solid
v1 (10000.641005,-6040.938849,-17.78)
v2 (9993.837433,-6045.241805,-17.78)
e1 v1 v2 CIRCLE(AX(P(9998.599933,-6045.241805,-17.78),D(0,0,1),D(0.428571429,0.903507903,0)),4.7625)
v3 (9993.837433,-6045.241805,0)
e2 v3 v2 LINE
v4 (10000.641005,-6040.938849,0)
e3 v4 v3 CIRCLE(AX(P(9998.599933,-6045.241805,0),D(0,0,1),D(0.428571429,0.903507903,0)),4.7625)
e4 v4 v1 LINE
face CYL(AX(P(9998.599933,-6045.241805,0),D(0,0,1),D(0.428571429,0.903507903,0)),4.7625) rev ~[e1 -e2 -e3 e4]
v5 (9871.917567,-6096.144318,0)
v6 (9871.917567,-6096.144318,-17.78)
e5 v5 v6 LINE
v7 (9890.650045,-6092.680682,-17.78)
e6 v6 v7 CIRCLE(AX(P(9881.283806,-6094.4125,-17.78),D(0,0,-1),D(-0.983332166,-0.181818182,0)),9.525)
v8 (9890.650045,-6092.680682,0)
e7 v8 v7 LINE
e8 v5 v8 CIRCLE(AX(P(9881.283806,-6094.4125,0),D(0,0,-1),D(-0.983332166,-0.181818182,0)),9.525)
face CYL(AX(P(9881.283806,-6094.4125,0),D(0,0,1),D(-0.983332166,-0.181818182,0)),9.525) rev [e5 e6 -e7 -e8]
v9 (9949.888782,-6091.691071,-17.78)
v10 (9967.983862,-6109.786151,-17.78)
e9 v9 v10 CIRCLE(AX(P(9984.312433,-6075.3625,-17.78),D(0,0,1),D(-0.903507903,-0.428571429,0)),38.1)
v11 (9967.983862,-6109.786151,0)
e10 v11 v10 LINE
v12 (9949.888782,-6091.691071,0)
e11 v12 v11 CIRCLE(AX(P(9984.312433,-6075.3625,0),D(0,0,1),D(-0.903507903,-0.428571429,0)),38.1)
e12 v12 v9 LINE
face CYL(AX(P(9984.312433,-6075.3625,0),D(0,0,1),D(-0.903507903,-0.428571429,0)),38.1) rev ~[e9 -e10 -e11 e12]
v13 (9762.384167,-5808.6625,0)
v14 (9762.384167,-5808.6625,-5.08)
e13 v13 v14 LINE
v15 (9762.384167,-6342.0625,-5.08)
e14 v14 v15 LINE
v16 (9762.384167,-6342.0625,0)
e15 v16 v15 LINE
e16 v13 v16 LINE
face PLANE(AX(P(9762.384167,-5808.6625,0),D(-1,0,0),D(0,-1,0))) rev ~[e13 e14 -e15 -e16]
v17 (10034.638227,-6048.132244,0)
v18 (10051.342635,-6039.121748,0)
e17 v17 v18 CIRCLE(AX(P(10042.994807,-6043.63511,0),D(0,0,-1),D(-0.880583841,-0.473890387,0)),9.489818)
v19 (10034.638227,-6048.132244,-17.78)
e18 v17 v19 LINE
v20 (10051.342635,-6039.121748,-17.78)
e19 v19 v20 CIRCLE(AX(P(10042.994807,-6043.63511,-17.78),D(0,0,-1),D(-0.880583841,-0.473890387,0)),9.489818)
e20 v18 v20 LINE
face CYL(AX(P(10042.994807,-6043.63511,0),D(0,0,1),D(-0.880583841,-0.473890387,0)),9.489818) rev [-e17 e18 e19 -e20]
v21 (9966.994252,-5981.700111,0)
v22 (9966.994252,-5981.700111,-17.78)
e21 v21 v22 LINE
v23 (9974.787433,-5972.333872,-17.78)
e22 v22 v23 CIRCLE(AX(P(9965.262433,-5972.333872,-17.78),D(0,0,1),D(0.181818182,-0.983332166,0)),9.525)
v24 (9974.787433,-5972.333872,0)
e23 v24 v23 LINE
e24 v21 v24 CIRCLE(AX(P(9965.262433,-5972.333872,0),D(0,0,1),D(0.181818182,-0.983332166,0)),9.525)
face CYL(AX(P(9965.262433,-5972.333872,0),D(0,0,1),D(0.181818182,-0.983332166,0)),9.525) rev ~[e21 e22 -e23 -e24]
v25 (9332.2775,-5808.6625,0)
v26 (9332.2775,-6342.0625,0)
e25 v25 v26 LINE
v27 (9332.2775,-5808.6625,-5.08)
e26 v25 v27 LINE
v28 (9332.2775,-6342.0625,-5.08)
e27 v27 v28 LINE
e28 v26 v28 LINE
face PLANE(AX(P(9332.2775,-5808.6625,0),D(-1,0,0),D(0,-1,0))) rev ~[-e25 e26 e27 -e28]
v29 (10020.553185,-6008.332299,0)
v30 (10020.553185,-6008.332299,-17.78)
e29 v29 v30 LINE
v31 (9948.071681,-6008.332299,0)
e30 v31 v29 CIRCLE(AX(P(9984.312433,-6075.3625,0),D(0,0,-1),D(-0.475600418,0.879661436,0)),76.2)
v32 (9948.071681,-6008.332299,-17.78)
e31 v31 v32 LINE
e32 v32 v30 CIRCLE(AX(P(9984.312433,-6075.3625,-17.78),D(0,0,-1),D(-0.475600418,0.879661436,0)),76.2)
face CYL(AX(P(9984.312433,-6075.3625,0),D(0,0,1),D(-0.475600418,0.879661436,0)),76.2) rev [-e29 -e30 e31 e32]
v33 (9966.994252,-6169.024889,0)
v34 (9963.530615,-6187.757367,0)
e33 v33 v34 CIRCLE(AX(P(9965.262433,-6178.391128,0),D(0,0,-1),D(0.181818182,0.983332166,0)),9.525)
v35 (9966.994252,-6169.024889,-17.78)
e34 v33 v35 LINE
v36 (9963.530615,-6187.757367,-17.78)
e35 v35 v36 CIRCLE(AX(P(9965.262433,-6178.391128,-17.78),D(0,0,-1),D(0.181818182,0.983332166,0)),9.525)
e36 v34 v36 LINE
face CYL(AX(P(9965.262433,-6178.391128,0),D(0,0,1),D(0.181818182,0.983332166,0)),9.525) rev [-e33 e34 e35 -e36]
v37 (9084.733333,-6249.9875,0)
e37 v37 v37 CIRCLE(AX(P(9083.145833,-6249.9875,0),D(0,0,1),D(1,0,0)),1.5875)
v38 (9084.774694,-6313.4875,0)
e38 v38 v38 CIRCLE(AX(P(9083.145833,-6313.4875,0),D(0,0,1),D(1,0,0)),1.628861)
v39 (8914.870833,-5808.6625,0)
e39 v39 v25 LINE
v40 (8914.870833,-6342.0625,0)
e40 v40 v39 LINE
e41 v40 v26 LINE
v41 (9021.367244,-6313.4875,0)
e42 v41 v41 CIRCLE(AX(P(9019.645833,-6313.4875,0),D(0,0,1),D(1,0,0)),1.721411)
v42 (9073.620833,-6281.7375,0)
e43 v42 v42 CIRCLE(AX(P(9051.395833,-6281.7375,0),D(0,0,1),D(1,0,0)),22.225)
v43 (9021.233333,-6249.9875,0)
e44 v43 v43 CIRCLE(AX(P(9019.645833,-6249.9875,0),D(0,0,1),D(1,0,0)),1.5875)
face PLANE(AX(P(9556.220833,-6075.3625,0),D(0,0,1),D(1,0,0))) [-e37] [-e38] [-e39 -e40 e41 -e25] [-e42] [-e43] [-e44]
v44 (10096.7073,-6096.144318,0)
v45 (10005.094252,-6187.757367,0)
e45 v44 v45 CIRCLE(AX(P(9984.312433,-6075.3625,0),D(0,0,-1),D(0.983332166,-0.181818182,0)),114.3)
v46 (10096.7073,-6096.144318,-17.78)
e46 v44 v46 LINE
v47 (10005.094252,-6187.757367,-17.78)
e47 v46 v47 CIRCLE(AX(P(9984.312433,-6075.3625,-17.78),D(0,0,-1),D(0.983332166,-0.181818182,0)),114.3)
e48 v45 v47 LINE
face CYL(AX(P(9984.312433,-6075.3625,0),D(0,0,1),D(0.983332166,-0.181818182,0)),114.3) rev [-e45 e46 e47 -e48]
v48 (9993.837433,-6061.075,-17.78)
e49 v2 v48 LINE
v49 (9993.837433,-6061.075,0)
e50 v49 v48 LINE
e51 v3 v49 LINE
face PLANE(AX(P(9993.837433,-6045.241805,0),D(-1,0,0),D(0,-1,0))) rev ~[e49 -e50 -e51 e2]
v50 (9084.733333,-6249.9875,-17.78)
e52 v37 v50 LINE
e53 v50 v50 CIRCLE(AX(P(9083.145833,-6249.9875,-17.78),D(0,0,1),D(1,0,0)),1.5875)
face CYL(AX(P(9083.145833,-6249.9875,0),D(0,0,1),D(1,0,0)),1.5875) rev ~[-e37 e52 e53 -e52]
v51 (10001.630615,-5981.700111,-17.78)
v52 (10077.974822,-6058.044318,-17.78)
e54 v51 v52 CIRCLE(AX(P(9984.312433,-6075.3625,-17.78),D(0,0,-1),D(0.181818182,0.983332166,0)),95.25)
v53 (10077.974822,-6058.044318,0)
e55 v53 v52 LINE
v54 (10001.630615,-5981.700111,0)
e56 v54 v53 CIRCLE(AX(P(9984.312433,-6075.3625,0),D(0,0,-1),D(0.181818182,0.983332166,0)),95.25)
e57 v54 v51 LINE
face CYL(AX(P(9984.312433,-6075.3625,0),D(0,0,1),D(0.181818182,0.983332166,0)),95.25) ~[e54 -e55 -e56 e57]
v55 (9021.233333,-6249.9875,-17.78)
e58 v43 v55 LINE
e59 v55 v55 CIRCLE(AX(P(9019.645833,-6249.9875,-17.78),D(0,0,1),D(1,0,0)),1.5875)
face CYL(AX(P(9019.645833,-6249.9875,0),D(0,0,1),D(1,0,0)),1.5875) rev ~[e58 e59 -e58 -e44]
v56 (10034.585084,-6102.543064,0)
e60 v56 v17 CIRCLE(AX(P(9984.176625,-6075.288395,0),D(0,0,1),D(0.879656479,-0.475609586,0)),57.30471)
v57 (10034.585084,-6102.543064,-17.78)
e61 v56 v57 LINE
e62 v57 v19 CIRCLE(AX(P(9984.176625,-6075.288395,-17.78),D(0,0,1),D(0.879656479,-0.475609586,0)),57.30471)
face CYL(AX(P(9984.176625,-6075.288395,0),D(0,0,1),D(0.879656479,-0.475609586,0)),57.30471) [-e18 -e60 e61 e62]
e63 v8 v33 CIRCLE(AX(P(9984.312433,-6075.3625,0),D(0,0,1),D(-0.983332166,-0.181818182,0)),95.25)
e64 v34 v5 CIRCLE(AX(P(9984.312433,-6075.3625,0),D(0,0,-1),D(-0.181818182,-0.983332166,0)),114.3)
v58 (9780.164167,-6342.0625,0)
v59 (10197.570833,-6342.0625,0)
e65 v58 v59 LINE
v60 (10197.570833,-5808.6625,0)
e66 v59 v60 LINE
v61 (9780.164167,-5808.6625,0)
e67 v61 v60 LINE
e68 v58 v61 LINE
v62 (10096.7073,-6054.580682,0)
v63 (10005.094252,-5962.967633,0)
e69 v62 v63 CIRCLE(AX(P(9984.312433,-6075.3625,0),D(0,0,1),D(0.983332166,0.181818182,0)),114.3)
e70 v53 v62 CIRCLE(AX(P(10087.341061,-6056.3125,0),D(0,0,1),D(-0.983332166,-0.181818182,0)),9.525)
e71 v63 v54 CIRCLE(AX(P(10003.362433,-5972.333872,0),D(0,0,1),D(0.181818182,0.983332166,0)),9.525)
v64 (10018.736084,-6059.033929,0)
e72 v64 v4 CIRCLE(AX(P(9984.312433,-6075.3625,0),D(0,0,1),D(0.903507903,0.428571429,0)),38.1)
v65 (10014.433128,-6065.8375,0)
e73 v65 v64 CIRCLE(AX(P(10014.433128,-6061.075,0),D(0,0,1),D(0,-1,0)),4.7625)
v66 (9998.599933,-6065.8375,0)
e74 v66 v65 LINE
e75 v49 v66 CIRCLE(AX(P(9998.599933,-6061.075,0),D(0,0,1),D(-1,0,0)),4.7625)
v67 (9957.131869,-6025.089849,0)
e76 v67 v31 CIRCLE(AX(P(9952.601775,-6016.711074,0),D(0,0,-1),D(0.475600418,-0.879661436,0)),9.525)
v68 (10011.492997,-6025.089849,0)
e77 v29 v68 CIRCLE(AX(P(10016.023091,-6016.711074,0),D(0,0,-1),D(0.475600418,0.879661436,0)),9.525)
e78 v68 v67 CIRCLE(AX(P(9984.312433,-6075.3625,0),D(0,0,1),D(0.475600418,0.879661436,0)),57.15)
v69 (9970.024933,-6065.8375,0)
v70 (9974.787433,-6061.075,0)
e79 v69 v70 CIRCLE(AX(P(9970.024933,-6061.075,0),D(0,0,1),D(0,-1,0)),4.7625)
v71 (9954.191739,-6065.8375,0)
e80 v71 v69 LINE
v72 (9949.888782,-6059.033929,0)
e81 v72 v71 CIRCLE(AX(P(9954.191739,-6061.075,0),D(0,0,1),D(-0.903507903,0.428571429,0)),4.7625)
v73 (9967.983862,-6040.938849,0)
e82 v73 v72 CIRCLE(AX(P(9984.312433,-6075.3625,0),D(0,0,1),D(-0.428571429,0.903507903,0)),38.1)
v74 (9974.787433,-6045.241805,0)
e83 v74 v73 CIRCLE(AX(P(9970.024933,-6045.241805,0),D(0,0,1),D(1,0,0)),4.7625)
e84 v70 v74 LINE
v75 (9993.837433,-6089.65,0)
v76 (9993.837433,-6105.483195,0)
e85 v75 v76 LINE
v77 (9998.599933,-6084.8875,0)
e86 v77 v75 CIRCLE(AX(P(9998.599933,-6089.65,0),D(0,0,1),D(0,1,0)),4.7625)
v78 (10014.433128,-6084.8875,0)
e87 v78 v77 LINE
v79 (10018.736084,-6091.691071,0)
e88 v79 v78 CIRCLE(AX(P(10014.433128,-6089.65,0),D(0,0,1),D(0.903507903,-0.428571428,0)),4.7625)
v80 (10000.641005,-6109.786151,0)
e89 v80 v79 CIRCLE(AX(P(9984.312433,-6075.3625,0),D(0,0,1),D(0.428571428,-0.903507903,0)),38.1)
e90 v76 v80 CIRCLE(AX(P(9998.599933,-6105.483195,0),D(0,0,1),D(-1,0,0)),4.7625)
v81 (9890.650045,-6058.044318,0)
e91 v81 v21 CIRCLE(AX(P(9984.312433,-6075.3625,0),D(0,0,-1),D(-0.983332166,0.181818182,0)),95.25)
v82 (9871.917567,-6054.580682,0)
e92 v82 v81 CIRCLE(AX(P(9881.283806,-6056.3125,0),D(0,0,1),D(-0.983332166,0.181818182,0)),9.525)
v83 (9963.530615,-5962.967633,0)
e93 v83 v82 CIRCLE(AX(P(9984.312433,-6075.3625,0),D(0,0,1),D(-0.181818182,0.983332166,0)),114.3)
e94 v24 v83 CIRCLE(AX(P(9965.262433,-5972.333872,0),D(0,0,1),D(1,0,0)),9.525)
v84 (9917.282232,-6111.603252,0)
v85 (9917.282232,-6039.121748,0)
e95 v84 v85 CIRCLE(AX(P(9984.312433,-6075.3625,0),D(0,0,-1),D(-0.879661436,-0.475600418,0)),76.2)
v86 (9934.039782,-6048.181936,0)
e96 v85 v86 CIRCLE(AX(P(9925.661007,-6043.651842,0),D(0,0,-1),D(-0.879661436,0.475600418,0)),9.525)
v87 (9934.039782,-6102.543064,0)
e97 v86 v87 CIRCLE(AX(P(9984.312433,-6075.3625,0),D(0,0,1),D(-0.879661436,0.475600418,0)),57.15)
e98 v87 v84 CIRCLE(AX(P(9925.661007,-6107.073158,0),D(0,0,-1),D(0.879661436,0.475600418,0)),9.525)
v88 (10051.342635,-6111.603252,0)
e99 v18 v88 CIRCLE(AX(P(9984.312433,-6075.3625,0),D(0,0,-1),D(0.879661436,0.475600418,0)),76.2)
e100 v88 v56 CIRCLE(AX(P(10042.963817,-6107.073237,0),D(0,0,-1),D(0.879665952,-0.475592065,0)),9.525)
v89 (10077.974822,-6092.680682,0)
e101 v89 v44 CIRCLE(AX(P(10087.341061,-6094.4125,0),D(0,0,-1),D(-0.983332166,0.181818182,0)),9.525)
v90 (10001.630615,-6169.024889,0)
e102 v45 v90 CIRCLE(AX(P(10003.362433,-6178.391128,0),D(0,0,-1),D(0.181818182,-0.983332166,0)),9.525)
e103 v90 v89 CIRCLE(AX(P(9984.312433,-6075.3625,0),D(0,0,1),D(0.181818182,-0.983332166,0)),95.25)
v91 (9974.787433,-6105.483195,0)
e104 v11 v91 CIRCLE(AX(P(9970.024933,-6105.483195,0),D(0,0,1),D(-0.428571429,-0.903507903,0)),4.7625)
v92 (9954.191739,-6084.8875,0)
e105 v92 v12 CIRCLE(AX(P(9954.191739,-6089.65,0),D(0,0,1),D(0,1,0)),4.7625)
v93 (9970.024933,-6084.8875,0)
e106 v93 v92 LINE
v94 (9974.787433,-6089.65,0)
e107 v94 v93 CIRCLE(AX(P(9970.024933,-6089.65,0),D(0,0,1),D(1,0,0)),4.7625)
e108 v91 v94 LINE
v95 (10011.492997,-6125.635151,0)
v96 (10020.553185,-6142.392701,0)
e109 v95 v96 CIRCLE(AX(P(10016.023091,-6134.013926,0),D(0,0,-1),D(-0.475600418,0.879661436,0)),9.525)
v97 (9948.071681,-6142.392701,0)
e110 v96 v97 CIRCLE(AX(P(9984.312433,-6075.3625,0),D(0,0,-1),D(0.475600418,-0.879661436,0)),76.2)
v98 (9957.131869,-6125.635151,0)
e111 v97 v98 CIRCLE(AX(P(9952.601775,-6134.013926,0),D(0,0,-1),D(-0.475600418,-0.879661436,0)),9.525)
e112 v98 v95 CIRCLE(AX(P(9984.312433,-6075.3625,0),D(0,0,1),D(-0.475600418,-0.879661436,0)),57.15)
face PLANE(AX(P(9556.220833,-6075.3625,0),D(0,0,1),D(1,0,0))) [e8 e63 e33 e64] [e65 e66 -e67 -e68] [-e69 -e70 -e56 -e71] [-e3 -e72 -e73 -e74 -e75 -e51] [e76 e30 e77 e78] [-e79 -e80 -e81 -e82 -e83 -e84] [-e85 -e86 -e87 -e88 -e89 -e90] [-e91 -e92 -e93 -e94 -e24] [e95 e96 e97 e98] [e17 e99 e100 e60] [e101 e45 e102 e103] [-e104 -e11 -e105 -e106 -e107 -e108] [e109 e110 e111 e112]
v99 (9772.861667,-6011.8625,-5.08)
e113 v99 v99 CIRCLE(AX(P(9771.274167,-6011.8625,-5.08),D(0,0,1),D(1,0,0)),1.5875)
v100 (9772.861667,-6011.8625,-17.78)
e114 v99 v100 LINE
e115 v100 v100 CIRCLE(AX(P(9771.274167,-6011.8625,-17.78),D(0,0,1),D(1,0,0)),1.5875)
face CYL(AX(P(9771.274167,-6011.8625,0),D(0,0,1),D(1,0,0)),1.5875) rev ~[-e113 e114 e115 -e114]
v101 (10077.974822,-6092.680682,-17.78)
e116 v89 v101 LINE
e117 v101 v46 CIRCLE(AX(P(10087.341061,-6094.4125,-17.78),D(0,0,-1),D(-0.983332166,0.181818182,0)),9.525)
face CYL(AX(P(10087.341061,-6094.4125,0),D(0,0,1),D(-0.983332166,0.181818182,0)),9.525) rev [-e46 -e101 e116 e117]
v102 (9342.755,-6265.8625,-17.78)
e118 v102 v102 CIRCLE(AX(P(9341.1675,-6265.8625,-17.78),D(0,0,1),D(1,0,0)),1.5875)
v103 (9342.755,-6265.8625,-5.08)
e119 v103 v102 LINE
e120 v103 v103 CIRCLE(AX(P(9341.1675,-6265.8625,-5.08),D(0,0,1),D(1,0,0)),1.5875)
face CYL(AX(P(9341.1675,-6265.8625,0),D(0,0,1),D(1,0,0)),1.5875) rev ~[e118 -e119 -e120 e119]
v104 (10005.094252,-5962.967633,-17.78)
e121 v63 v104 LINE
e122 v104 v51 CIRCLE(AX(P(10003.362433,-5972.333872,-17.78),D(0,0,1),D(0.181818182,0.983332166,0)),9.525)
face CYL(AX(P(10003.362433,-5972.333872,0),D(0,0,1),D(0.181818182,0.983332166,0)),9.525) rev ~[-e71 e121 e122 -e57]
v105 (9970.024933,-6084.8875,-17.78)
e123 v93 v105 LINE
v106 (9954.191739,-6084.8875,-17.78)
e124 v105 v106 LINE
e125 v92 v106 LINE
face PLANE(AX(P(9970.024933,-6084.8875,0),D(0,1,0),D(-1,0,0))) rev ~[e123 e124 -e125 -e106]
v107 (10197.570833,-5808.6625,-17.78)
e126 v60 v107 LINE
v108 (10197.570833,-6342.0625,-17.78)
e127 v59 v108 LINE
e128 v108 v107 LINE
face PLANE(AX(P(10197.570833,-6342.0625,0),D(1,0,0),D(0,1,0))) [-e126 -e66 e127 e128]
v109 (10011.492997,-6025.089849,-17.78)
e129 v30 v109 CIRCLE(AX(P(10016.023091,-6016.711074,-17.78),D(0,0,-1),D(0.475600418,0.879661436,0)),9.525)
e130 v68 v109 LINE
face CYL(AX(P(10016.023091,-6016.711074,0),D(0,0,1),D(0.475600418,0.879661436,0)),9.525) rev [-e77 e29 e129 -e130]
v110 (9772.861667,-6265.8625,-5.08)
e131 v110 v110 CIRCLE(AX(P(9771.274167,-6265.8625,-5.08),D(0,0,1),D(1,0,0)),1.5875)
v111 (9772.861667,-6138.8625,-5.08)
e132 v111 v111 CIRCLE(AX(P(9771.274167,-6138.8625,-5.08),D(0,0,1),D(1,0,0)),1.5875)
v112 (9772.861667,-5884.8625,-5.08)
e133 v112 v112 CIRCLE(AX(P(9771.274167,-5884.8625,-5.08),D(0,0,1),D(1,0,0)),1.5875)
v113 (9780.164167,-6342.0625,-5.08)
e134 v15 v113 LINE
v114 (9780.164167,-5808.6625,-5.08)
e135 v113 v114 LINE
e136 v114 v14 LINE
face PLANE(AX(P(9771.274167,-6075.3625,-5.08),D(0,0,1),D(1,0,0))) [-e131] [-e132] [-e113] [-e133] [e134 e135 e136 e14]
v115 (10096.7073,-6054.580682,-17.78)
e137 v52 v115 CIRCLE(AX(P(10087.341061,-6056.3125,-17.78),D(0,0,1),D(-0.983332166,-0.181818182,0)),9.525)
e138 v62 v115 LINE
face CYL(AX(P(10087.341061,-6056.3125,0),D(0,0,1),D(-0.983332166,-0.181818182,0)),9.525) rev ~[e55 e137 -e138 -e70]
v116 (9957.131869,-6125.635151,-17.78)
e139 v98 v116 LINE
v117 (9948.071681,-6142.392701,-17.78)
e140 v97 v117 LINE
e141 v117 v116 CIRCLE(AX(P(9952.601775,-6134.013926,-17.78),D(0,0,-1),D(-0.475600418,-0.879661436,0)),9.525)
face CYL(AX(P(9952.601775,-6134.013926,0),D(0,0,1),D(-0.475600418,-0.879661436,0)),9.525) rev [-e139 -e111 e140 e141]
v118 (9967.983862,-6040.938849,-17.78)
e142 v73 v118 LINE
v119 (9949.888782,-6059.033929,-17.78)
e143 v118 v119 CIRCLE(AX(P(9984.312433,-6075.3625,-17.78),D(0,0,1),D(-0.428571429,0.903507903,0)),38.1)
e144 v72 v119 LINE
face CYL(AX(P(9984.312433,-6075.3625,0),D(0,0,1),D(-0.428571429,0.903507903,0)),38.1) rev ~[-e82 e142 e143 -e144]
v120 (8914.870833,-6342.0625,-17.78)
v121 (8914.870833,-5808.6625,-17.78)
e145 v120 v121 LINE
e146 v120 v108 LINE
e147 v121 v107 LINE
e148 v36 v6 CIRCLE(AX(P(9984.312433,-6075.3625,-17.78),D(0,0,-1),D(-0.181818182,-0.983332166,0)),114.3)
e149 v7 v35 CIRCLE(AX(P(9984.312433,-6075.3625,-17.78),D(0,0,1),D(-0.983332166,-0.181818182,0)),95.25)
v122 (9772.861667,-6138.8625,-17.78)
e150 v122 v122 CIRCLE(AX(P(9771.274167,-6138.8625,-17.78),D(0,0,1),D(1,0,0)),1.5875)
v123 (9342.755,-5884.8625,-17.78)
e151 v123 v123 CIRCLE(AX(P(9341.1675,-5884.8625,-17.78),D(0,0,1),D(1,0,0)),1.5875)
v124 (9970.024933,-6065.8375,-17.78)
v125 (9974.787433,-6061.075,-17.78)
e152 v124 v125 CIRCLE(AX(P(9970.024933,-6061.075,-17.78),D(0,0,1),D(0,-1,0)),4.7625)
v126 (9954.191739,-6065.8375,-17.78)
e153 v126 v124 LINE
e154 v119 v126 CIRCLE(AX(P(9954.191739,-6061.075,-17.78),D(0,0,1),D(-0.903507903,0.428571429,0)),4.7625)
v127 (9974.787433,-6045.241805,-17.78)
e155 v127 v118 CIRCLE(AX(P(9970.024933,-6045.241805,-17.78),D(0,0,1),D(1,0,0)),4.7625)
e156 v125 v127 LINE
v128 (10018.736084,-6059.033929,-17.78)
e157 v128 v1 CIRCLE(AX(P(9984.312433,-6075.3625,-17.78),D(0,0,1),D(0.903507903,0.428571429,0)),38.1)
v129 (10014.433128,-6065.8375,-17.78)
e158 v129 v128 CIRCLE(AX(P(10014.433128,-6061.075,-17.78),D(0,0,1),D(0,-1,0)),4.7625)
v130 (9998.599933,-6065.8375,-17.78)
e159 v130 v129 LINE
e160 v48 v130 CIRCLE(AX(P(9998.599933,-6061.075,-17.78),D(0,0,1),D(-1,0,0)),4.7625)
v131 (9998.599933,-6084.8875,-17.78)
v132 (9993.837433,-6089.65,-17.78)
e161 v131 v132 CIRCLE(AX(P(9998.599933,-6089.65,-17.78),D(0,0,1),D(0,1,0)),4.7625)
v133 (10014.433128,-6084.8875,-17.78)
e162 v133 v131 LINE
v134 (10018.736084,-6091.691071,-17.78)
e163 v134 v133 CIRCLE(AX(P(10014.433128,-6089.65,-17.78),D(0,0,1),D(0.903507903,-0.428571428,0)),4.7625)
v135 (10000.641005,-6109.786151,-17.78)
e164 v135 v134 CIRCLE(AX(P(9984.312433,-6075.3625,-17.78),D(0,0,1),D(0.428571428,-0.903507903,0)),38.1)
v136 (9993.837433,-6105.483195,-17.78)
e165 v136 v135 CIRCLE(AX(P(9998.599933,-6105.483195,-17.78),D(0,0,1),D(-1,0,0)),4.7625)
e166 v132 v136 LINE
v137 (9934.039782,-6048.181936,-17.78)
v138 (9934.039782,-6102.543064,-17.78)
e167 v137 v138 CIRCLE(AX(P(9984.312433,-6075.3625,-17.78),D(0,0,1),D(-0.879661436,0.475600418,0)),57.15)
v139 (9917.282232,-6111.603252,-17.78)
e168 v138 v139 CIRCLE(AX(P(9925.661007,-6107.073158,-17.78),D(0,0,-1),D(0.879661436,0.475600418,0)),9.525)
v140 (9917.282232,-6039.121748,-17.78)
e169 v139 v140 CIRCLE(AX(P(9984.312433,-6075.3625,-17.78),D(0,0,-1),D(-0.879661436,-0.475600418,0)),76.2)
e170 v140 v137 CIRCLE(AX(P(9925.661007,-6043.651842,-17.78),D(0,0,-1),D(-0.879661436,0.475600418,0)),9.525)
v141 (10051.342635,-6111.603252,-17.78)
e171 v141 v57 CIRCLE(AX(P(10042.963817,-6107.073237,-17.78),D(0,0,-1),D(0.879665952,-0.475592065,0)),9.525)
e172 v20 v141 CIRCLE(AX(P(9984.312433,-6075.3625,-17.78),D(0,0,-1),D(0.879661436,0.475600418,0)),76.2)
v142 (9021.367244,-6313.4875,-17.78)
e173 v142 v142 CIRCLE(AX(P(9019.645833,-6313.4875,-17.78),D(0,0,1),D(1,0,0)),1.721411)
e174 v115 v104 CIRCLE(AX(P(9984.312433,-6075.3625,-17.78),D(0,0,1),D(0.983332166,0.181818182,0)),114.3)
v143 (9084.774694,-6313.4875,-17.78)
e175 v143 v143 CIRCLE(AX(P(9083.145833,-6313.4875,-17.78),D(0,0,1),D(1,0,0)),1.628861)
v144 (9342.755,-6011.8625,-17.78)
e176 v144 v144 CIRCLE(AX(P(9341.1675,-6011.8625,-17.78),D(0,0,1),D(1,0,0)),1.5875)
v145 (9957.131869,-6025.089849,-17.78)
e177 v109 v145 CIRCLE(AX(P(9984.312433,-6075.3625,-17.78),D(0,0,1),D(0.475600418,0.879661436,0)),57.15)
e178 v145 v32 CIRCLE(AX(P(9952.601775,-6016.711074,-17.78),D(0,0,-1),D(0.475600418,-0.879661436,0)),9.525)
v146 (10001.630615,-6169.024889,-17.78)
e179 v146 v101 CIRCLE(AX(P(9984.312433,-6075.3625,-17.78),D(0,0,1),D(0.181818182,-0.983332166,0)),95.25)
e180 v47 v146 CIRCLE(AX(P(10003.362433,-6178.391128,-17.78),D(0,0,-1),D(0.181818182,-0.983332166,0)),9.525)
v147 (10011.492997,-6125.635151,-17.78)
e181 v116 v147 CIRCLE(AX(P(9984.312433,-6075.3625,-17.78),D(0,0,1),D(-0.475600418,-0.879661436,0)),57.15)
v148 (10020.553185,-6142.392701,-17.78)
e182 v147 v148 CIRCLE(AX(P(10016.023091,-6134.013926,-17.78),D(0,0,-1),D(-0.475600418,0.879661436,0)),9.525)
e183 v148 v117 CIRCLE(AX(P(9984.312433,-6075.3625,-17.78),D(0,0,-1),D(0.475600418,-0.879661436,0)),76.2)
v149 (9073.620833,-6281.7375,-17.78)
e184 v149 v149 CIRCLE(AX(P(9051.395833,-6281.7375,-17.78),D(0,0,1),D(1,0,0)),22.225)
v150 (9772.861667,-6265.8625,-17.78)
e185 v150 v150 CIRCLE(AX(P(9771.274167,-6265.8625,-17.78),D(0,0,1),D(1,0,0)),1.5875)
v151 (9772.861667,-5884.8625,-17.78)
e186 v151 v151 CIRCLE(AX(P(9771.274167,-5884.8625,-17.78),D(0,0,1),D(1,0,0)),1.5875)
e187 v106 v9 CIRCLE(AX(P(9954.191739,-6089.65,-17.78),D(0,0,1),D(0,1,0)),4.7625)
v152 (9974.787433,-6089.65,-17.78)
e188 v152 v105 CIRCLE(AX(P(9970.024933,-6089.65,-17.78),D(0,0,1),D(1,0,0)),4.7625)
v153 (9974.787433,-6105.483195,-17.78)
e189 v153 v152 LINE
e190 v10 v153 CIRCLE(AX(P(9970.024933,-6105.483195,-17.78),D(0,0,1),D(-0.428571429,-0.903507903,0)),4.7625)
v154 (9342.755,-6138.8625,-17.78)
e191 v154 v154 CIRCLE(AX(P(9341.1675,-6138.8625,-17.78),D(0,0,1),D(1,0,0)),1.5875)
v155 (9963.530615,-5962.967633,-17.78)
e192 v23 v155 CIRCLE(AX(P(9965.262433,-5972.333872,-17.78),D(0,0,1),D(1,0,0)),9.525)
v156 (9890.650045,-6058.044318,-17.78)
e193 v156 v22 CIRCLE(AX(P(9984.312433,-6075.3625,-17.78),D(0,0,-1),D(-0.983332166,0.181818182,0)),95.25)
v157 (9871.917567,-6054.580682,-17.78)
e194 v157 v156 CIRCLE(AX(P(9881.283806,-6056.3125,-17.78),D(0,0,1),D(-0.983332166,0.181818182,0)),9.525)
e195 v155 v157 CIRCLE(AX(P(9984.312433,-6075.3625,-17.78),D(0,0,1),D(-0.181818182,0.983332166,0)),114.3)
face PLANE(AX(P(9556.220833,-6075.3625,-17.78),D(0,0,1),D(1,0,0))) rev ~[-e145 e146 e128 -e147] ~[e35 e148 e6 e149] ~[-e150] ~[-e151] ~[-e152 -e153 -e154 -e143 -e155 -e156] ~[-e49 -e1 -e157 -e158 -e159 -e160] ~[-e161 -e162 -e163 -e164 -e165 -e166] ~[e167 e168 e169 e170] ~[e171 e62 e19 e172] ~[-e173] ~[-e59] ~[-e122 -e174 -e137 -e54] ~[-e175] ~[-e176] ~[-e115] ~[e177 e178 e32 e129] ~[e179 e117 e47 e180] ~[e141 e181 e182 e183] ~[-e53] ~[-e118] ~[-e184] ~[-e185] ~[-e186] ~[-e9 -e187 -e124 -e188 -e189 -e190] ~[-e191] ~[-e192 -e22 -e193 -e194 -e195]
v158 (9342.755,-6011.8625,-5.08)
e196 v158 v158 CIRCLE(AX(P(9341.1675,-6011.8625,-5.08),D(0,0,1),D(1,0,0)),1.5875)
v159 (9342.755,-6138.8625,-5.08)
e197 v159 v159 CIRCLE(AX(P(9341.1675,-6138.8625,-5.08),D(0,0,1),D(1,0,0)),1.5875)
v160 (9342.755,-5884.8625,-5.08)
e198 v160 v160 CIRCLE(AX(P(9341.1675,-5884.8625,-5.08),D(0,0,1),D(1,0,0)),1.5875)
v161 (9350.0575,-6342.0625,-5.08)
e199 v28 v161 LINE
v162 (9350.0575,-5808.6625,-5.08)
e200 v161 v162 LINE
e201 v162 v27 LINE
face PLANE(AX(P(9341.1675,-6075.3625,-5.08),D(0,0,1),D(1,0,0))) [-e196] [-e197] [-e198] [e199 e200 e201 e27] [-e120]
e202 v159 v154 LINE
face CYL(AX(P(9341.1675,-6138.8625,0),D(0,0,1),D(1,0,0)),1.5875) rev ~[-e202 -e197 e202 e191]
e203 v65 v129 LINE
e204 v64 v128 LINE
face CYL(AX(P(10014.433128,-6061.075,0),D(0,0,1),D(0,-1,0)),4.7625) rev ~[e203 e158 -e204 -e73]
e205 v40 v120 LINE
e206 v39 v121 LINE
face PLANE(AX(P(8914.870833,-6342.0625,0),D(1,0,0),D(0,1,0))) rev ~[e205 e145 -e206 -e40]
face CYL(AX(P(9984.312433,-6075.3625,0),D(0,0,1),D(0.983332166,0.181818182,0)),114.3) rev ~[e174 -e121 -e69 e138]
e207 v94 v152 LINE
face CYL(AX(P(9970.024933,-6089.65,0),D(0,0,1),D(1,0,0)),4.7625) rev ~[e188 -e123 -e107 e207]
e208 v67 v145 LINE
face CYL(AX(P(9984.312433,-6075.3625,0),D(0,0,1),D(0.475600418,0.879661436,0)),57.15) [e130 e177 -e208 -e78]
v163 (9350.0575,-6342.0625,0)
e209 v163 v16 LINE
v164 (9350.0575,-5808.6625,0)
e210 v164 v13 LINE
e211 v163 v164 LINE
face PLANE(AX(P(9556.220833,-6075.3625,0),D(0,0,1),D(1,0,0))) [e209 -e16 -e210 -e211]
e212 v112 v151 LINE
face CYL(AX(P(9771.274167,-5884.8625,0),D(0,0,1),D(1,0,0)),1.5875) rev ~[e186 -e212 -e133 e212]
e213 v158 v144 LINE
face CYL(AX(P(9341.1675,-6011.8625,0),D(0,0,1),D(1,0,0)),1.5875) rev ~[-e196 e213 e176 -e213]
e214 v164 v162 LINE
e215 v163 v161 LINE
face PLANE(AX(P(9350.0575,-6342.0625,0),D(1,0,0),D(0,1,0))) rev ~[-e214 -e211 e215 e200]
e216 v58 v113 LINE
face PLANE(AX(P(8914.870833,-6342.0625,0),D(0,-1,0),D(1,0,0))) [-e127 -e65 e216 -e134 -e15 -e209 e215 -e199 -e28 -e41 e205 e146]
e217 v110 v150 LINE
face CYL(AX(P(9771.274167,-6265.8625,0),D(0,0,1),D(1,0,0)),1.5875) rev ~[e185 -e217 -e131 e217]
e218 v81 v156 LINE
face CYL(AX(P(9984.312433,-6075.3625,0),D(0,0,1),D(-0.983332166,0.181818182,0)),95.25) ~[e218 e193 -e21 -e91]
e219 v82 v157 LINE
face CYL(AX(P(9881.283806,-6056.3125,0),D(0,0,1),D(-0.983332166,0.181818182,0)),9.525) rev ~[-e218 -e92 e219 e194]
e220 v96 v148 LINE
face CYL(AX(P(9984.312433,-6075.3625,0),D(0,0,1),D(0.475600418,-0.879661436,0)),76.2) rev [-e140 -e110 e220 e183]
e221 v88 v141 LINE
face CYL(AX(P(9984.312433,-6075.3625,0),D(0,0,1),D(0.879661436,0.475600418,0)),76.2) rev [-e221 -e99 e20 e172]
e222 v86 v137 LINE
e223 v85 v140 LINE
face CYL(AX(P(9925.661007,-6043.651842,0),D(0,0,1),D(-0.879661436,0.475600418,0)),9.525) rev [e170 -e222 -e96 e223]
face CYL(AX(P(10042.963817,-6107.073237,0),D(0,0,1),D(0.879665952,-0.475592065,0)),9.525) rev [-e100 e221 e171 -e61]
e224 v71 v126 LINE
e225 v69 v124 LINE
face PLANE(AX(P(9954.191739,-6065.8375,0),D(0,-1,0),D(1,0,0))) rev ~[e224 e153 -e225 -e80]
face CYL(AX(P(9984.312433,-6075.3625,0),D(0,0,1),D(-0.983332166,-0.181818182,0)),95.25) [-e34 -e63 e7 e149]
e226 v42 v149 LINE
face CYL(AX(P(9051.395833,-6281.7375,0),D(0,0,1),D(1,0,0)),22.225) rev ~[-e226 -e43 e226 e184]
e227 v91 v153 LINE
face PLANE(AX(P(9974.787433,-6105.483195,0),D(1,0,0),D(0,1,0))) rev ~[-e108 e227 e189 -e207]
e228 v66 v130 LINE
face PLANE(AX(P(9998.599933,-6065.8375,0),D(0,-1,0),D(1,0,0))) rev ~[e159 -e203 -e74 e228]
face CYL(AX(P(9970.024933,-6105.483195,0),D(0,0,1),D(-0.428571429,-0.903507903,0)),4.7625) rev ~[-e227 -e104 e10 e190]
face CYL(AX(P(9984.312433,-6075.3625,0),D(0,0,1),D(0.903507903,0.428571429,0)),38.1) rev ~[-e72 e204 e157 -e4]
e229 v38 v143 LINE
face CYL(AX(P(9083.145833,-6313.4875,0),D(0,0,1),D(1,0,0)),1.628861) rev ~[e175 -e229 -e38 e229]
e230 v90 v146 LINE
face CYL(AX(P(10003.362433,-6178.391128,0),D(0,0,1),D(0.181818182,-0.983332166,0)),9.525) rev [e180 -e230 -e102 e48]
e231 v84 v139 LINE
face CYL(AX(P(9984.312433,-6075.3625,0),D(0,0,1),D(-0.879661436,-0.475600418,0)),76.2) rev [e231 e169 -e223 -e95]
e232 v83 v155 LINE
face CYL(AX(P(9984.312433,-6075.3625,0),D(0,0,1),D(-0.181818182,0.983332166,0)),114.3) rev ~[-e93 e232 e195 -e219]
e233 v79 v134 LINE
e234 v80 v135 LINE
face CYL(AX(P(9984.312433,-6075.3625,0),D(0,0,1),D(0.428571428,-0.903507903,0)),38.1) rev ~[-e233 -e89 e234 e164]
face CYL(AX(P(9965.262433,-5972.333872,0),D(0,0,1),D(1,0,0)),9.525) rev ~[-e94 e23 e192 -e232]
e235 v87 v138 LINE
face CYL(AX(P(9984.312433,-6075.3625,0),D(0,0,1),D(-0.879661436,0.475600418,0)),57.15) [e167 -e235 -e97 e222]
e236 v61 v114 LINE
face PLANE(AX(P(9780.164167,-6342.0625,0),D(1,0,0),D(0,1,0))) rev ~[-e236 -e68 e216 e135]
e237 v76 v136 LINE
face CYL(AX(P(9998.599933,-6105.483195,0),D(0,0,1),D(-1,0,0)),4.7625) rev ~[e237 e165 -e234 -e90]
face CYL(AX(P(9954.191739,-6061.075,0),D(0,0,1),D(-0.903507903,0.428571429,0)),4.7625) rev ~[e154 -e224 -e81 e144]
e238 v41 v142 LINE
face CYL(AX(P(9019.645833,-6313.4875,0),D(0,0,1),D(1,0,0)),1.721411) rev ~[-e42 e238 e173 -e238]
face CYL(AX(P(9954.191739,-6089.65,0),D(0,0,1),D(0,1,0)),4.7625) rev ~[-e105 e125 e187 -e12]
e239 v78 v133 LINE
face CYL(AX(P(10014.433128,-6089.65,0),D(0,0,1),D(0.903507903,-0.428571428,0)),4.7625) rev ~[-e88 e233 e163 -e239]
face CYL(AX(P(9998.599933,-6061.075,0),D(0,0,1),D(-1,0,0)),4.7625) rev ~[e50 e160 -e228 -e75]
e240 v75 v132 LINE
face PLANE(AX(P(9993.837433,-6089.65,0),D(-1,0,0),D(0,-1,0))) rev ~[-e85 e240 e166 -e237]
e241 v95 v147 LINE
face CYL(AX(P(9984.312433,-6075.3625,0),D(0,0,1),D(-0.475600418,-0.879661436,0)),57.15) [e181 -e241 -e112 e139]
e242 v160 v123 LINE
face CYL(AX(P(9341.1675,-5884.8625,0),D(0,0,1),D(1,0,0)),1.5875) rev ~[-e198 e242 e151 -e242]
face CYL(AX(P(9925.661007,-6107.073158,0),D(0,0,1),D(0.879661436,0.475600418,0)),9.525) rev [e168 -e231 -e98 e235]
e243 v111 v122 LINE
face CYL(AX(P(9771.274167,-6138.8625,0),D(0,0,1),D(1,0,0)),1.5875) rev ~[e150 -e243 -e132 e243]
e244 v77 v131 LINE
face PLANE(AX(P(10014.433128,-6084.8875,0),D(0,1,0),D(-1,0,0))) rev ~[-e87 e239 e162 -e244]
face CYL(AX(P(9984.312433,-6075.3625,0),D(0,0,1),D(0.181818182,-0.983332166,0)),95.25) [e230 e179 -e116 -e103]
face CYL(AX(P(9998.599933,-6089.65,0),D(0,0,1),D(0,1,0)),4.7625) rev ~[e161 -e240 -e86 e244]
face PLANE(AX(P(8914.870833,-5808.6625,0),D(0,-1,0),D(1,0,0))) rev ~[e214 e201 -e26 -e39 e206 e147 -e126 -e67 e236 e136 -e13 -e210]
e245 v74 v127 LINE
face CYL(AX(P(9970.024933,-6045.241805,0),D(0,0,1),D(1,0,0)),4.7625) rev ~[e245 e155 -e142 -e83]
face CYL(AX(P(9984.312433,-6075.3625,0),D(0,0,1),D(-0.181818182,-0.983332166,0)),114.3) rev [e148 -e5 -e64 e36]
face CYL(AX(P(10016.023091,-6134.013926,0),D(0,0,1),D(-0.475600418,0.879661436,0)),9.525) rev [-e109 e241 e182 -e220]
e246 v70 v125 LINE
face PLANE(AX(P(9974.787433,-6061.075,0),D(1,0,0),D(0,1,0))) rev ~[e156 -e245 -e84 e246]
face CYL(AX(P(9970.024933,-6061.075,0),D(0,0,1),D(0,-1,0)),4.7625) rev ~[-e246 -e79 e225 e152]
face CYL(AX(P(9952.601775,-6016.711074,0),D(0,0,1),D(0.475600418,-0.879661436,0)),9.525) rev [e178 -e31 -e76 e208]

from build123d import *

# Parameters (mm, degrees)
SKETCH2_W          = 1282.7
SKETCH2_H          = 533.4
EXTRUDE1_DEPTH     = 17.78
SKETCH4_R          = 22.225
SKETCH4_R_2        = 1.5875
SKETCH4_R_3        = 1.628860789
SKETCH4_R_4        = 1.721410862
CUT_EXTRUDE1_DEPTH = 17.78
CUT_EXTRUDE2_DEPTH = 5.08


with BuildPart() as part:
    # Sketch2 → Extrude1 (new body)
    with BuildSketch(Plane.XY):
        with Locations((9556.220833334, -6075.3625)):
            Rectangle(SKETCH2_W, SKETCH2_H)
    extrude(amount=-EXTRUDE1_DEPTH)

    # Sketch4 → Cut-Extrude1 (cut)
    with BuildSketch(Plane.XY):
        with Locations((9051.395833334, -6281.7375)):
            Circle(SKETCH4_R)
        with Locations((9019.645833334, -6249.9875)):
            Circle(SKETCH4_R_2)
        with Locations((9083.145833334, -6249.9875)):
            Circle(SKETCH4_R_2)
        with Locations((9083.145833334, -6313.4875)):
            Circle(SKETCH4_R_3)
        with Locations((9019.645833334, -6313.4875)):
            Circle(SKETCH4_R_4)
        with Locations((9341.1675, -6265.8625)):
            Circle(SKETCH4_R_2)
        with Locations((9341.1675, -6138.8625)):
            Circle(SKETCH4_R_2)
        with Locations((9341.1675, -6011.8625)):
            Circle(SKETCH4_R_2)
        with Locations((9341.1675, -5884.8625)):
            Circle(SKETCH4_R_2)
        with Locations((9771.274166666, -5884.8625)):
            Circle(SKETCH4_R_2)
        with Locations((9771.274166666, -6011.8625)):
            Circle(SKETCH4_R_2)
        with Locations((9771.274166666, -6138.8625)):
            Circle(SKETCH4_R_2)
        with Locations((9771.274166666, -6265.8625)):
            Circle(SKETCH4_R_2)
        with BuildLine():
            Line((9974.787433334, -6061.075), (9974.787433334, -6045.241805286))
            ThreePointArc((9974.787433334, -6045.241805286), (9972.570596663, -6041.216758148), (9967.983861906, -6040.938848899))
            ThreePointArc((9967.983861906, -6040.938848899), (9957.371664972, -6048.421731638), (9949.888782233, -6059.033928571))
            ThreePointArc((9949.888782233, -6059.033928571), (9950.166691482, -6063.620663329), (9954.19173862, -6065.8375))
            Line((9954.19173862, -6065.8375), (9970.024933334, -6065.8375))
            ThreePointArc((9970.024933334, -6065.8375), (9973.39252938, -6064.442596045), (9974.787433334, -6061.075))
        make_face()
        with BuildLine():
            Line((9993.837433334, -6045.241805286), (9993.837433334, -6061.075))
            ThreePointArc((9993.837433334, -6061.075), (9995.232337289, -6064.442596045), (9998.599933334, -6065.8375))
            Line((9998.599933334, -6065.8375), (10014.433128046, -6065.8375))
            ThreePointArc((10014.433128046, -6065.8375), (10018.458175184, -6063.620663329), (10018.736084433, -6059.033928571))
            ThreePointArc((10018.736084433, -6059.033928571), (10011.253201696, -6048.421731637), (10000.641004763, -6040.938848899))
            ThreePointArc((10000.641004763, -6040.938848899), (9996.054270005, -6041.216758148), (9993.837433334, -6045.241805286))
        make_face()
        with BuildLine():
            Line((10014.433128046, -6084.8875), (9998.599933334, -6084.8875))
            ThreePointArc((9998.599933334, -6084.8875), (9995.232337289, -6086.282403955), (9993.837433334, -6089.65))
            Line((9993.837433334, -6089.65), (9993.837433334, -6105.483194714))
            ThreePointArc((9993.837433334, -6105.483194714), (9996.054270005, -6109.508241852), (10000.641004763, -6109.786151102))
            ThreePointArc((10000.641004763, -6109.786151102), (10011.253201699, -6102.303268365), (10018.736084435, -6091.691071429))
            ThreePointArc((10018.736084435, -6091.691071429), (10018.458175184, -6087.104336671), (10014.433128046, -6084.8875))
        make_face()
        with BuildLine():
            Line((9970.024933334, -6084.8875), (9954.19173862, -6084.8875))
            ThreePointArc((9954.19173862, -6084.8875), (9950.166691482, -6087.104336671), (9949.888782233, -6091.691071429))
            ThreePointArc((9949.888782233, -6091.691071429), (9957.371664972, -6102.303268362), (9967.983861906, -6109.786151101))
            ThreePointArc((9967.983861906, -6109.786151101), (9972.570596663, -6109.508241852), (9974.787433334, -6105.483194714))
            Line((9974.787433334, -6105.483194714), (9974.787433334, -6089.65))
            ThreePointArc((9974.787433334, -6089.65), (9973.39252938, -6086.282403955), (9970.024933334, -6084.8875))
        make_face()
        with BuildLine():
            ThreePointArc((9890.650044519, -6058.044318182), (9916.960512426, -6008.010579092), (9966.994251516, -5981.700111185))
            ThreePointArc((9966.994251516, -5981.700111185), (9972.584359078, -5978.426082773), (9974.787433334, -5972.333872304))
            ThreePointArc((9974.787433334, -5972.333872304), (9971.354643804, -5965.01194656), (9963.530615152, -5962.967633422))
            ThreePointArc((9963.530615152, -5962.967633422), (9903.490128244, -5994.54019491), (9871.917566756, -6054.580681818))
            ThreePointArc((9871.917566756, -6054.580681818), (9879.551987456, -6065.678738882), (9890.650044519, -6058.044318182))
        make_face()
        with BuildLine():
            ThreePointArc((9890.650044519, -6092.680681818), (9916.960512426, -6142.714420908), (9966.994251516, -6169.024888814))
            ThreePointArc((9966.994251516, -6169.024888814), (9974.628672216, -6180.122945878), (9963.530615152, -6187.757366578))
            ThreePointArc((9963.530615152, -6187.757366578), (9903.490128244, -6156.18480509), (9871.917566756, -6096.144318182))
            ThreePointArc((9871.917566756, -6096.144318182), (9879.551987456, -6085.046261119), (9890.650044519, -6092.680681818))
        make_face()
        with BuildLine():
            ThreePointArc((10001.630615152, -6169.024888815), (10051.664354242, -6142.714420908), (10077.974822149, -6092.680681818))
            ThreePointArc((10077.974822149, -6092.680681818), (10089.072879212, -6085.046261118), (10096.707299912, -6096.144318182))
            ThreePointArc((10096.707299912, -6096.144318182), (10065.134738424, -6156.18480509), (10005.094251516, -6187.757366578))
            ThreePointArc((10005.094251516, -6187.757366578), (9993.996194453, -6180.122945878), (10001.630615152, -6169.024888815))
        make_face()
        with BuildLine():
            ThreePointArc((10001.630615152, -5981.700111185), (10051.664354242, -6008.010579092), (10077.974822148, -6058.044318182))
            ThreePointArc((10077.974822148, -6058.044318182), (10089.072879212, -6065.678738882), (10096.707299912, -6054.580681818))
            ThreePointArc((10096.707299912, -6054.580681818), (10065.134738424, -5994.54019491), (10005.094251516, -5962.967633422))
            ThreePointArc((10005.094251516, -5962.967633422), (9993.996194453, -5970.602054122), (10001.630615152, -5981.700111185))
        make_face()
        with BuildLine():
            ThreePointArc((9917.282231904, -6111.603251872), (9908.112433335, -6075.3625), (9917.282231902, -6039.121748127))
            ThreePointArc((9917.282231902, -6039.121748127), (9930.191101067, -6035.273066932), (9934.039782262, -6048.181936096))
            ThreePointArc((9934.039782262, -6048.181936096), (9927.162433334, -6075.3625), (9934.039782262, -6102.543063904))
            ThreePointArc((9934.039782262, -6102.543063904), (9930.191101067, -6115.451933067), (9917.282231904, -6111.603251872))
        make_face()
        with BuildLine():
            ThreePointArc((9948.071681461, -6008.332298571), (9984.312433334, -5999.162500001), (10020.553185206, -6008.33229857))
            ThreePointArc((10020.553185206, -6008.33229857), (10024.401866401, -6021.241167734), (10011.492997237, -6025.089848928))
            ThreePointArc((10011.492997237, -6025.089848928), (9984.312433332, -6018.212500002), (9957.131869429, -6025.089848928))
            ThreePointArc((9957.131869429, -6025.089848928), (9944.223000266, -6021.241167734), (9948.071681461, -6008.332298571))
        make_face()
        with BuildLine():
            ThreePointArc((10020.553185206, -6142.39270143), (9984.312433334, -6151.5625), (9948.071681462, -6142.39270143))
            ThreePointArc((9948.071681462, -6142.39270143), (9944.223000267, -6129.483832267), (9957.13186943, -6125.635151072))
            ThreePointArc((9957.13186943, -6125.635151072), (9984.312433334, -6132.5125), (10011.492997238, -6125.635151072))
            ThreePointArc((10011.492997238, -6125.635151072), (10024.401866401, -6129.483832267), (10020.553185206, -6142.39270143))
        make_face()
        with BuildLine():
            ThreePointArc((10051.342634764, -6039.121748128), (10060.512433334, -6075.362500001), (10051.342634763, -6111.603251873))
            ThreePointArc((10051.342634763, -6111.603251873), (10038.43373034, -6115.45201683), (10034.585084407, -6102.543063904))
            ThreePointArc((10034.585084407, -6102.543063904), (10041.481307607, -6075.344363194), (10034.638226606, -6048.13224352))
            ThreePointArc((10034.638226606, -6048.13224352), (10038.489557591, -6035.282901746), (10051.342634764, -6039.121748128))
        make_face()
    extrude(amount=-CUT_EXTRUDE1_DEPTH, mode=Mode.SUBTRACT)

    # Sketch5 → Cut-Extrude2 (cut)
    with BuildSketch(Plane.XY):
        Polygon((9350.0575, -6075.3625), (9350.0575, -5808.6625), (9332.2775, -5808.6625), (9332.2775, -6342.0625), (9350.0575, -6342.0625), align=None)
        Polygon((9762.384166666, -6075.3625), (9762.384166666, -6342.0625), (9780.164166666, -6342.0625), (9780.164166666, -5808.6625), (9762.384166666, -5808.6625), align=None)
    extrude(amount=-CUT_EXTRUDE2_DEPTH, mode=Mode.SUBTRACT)


solid = part.part
